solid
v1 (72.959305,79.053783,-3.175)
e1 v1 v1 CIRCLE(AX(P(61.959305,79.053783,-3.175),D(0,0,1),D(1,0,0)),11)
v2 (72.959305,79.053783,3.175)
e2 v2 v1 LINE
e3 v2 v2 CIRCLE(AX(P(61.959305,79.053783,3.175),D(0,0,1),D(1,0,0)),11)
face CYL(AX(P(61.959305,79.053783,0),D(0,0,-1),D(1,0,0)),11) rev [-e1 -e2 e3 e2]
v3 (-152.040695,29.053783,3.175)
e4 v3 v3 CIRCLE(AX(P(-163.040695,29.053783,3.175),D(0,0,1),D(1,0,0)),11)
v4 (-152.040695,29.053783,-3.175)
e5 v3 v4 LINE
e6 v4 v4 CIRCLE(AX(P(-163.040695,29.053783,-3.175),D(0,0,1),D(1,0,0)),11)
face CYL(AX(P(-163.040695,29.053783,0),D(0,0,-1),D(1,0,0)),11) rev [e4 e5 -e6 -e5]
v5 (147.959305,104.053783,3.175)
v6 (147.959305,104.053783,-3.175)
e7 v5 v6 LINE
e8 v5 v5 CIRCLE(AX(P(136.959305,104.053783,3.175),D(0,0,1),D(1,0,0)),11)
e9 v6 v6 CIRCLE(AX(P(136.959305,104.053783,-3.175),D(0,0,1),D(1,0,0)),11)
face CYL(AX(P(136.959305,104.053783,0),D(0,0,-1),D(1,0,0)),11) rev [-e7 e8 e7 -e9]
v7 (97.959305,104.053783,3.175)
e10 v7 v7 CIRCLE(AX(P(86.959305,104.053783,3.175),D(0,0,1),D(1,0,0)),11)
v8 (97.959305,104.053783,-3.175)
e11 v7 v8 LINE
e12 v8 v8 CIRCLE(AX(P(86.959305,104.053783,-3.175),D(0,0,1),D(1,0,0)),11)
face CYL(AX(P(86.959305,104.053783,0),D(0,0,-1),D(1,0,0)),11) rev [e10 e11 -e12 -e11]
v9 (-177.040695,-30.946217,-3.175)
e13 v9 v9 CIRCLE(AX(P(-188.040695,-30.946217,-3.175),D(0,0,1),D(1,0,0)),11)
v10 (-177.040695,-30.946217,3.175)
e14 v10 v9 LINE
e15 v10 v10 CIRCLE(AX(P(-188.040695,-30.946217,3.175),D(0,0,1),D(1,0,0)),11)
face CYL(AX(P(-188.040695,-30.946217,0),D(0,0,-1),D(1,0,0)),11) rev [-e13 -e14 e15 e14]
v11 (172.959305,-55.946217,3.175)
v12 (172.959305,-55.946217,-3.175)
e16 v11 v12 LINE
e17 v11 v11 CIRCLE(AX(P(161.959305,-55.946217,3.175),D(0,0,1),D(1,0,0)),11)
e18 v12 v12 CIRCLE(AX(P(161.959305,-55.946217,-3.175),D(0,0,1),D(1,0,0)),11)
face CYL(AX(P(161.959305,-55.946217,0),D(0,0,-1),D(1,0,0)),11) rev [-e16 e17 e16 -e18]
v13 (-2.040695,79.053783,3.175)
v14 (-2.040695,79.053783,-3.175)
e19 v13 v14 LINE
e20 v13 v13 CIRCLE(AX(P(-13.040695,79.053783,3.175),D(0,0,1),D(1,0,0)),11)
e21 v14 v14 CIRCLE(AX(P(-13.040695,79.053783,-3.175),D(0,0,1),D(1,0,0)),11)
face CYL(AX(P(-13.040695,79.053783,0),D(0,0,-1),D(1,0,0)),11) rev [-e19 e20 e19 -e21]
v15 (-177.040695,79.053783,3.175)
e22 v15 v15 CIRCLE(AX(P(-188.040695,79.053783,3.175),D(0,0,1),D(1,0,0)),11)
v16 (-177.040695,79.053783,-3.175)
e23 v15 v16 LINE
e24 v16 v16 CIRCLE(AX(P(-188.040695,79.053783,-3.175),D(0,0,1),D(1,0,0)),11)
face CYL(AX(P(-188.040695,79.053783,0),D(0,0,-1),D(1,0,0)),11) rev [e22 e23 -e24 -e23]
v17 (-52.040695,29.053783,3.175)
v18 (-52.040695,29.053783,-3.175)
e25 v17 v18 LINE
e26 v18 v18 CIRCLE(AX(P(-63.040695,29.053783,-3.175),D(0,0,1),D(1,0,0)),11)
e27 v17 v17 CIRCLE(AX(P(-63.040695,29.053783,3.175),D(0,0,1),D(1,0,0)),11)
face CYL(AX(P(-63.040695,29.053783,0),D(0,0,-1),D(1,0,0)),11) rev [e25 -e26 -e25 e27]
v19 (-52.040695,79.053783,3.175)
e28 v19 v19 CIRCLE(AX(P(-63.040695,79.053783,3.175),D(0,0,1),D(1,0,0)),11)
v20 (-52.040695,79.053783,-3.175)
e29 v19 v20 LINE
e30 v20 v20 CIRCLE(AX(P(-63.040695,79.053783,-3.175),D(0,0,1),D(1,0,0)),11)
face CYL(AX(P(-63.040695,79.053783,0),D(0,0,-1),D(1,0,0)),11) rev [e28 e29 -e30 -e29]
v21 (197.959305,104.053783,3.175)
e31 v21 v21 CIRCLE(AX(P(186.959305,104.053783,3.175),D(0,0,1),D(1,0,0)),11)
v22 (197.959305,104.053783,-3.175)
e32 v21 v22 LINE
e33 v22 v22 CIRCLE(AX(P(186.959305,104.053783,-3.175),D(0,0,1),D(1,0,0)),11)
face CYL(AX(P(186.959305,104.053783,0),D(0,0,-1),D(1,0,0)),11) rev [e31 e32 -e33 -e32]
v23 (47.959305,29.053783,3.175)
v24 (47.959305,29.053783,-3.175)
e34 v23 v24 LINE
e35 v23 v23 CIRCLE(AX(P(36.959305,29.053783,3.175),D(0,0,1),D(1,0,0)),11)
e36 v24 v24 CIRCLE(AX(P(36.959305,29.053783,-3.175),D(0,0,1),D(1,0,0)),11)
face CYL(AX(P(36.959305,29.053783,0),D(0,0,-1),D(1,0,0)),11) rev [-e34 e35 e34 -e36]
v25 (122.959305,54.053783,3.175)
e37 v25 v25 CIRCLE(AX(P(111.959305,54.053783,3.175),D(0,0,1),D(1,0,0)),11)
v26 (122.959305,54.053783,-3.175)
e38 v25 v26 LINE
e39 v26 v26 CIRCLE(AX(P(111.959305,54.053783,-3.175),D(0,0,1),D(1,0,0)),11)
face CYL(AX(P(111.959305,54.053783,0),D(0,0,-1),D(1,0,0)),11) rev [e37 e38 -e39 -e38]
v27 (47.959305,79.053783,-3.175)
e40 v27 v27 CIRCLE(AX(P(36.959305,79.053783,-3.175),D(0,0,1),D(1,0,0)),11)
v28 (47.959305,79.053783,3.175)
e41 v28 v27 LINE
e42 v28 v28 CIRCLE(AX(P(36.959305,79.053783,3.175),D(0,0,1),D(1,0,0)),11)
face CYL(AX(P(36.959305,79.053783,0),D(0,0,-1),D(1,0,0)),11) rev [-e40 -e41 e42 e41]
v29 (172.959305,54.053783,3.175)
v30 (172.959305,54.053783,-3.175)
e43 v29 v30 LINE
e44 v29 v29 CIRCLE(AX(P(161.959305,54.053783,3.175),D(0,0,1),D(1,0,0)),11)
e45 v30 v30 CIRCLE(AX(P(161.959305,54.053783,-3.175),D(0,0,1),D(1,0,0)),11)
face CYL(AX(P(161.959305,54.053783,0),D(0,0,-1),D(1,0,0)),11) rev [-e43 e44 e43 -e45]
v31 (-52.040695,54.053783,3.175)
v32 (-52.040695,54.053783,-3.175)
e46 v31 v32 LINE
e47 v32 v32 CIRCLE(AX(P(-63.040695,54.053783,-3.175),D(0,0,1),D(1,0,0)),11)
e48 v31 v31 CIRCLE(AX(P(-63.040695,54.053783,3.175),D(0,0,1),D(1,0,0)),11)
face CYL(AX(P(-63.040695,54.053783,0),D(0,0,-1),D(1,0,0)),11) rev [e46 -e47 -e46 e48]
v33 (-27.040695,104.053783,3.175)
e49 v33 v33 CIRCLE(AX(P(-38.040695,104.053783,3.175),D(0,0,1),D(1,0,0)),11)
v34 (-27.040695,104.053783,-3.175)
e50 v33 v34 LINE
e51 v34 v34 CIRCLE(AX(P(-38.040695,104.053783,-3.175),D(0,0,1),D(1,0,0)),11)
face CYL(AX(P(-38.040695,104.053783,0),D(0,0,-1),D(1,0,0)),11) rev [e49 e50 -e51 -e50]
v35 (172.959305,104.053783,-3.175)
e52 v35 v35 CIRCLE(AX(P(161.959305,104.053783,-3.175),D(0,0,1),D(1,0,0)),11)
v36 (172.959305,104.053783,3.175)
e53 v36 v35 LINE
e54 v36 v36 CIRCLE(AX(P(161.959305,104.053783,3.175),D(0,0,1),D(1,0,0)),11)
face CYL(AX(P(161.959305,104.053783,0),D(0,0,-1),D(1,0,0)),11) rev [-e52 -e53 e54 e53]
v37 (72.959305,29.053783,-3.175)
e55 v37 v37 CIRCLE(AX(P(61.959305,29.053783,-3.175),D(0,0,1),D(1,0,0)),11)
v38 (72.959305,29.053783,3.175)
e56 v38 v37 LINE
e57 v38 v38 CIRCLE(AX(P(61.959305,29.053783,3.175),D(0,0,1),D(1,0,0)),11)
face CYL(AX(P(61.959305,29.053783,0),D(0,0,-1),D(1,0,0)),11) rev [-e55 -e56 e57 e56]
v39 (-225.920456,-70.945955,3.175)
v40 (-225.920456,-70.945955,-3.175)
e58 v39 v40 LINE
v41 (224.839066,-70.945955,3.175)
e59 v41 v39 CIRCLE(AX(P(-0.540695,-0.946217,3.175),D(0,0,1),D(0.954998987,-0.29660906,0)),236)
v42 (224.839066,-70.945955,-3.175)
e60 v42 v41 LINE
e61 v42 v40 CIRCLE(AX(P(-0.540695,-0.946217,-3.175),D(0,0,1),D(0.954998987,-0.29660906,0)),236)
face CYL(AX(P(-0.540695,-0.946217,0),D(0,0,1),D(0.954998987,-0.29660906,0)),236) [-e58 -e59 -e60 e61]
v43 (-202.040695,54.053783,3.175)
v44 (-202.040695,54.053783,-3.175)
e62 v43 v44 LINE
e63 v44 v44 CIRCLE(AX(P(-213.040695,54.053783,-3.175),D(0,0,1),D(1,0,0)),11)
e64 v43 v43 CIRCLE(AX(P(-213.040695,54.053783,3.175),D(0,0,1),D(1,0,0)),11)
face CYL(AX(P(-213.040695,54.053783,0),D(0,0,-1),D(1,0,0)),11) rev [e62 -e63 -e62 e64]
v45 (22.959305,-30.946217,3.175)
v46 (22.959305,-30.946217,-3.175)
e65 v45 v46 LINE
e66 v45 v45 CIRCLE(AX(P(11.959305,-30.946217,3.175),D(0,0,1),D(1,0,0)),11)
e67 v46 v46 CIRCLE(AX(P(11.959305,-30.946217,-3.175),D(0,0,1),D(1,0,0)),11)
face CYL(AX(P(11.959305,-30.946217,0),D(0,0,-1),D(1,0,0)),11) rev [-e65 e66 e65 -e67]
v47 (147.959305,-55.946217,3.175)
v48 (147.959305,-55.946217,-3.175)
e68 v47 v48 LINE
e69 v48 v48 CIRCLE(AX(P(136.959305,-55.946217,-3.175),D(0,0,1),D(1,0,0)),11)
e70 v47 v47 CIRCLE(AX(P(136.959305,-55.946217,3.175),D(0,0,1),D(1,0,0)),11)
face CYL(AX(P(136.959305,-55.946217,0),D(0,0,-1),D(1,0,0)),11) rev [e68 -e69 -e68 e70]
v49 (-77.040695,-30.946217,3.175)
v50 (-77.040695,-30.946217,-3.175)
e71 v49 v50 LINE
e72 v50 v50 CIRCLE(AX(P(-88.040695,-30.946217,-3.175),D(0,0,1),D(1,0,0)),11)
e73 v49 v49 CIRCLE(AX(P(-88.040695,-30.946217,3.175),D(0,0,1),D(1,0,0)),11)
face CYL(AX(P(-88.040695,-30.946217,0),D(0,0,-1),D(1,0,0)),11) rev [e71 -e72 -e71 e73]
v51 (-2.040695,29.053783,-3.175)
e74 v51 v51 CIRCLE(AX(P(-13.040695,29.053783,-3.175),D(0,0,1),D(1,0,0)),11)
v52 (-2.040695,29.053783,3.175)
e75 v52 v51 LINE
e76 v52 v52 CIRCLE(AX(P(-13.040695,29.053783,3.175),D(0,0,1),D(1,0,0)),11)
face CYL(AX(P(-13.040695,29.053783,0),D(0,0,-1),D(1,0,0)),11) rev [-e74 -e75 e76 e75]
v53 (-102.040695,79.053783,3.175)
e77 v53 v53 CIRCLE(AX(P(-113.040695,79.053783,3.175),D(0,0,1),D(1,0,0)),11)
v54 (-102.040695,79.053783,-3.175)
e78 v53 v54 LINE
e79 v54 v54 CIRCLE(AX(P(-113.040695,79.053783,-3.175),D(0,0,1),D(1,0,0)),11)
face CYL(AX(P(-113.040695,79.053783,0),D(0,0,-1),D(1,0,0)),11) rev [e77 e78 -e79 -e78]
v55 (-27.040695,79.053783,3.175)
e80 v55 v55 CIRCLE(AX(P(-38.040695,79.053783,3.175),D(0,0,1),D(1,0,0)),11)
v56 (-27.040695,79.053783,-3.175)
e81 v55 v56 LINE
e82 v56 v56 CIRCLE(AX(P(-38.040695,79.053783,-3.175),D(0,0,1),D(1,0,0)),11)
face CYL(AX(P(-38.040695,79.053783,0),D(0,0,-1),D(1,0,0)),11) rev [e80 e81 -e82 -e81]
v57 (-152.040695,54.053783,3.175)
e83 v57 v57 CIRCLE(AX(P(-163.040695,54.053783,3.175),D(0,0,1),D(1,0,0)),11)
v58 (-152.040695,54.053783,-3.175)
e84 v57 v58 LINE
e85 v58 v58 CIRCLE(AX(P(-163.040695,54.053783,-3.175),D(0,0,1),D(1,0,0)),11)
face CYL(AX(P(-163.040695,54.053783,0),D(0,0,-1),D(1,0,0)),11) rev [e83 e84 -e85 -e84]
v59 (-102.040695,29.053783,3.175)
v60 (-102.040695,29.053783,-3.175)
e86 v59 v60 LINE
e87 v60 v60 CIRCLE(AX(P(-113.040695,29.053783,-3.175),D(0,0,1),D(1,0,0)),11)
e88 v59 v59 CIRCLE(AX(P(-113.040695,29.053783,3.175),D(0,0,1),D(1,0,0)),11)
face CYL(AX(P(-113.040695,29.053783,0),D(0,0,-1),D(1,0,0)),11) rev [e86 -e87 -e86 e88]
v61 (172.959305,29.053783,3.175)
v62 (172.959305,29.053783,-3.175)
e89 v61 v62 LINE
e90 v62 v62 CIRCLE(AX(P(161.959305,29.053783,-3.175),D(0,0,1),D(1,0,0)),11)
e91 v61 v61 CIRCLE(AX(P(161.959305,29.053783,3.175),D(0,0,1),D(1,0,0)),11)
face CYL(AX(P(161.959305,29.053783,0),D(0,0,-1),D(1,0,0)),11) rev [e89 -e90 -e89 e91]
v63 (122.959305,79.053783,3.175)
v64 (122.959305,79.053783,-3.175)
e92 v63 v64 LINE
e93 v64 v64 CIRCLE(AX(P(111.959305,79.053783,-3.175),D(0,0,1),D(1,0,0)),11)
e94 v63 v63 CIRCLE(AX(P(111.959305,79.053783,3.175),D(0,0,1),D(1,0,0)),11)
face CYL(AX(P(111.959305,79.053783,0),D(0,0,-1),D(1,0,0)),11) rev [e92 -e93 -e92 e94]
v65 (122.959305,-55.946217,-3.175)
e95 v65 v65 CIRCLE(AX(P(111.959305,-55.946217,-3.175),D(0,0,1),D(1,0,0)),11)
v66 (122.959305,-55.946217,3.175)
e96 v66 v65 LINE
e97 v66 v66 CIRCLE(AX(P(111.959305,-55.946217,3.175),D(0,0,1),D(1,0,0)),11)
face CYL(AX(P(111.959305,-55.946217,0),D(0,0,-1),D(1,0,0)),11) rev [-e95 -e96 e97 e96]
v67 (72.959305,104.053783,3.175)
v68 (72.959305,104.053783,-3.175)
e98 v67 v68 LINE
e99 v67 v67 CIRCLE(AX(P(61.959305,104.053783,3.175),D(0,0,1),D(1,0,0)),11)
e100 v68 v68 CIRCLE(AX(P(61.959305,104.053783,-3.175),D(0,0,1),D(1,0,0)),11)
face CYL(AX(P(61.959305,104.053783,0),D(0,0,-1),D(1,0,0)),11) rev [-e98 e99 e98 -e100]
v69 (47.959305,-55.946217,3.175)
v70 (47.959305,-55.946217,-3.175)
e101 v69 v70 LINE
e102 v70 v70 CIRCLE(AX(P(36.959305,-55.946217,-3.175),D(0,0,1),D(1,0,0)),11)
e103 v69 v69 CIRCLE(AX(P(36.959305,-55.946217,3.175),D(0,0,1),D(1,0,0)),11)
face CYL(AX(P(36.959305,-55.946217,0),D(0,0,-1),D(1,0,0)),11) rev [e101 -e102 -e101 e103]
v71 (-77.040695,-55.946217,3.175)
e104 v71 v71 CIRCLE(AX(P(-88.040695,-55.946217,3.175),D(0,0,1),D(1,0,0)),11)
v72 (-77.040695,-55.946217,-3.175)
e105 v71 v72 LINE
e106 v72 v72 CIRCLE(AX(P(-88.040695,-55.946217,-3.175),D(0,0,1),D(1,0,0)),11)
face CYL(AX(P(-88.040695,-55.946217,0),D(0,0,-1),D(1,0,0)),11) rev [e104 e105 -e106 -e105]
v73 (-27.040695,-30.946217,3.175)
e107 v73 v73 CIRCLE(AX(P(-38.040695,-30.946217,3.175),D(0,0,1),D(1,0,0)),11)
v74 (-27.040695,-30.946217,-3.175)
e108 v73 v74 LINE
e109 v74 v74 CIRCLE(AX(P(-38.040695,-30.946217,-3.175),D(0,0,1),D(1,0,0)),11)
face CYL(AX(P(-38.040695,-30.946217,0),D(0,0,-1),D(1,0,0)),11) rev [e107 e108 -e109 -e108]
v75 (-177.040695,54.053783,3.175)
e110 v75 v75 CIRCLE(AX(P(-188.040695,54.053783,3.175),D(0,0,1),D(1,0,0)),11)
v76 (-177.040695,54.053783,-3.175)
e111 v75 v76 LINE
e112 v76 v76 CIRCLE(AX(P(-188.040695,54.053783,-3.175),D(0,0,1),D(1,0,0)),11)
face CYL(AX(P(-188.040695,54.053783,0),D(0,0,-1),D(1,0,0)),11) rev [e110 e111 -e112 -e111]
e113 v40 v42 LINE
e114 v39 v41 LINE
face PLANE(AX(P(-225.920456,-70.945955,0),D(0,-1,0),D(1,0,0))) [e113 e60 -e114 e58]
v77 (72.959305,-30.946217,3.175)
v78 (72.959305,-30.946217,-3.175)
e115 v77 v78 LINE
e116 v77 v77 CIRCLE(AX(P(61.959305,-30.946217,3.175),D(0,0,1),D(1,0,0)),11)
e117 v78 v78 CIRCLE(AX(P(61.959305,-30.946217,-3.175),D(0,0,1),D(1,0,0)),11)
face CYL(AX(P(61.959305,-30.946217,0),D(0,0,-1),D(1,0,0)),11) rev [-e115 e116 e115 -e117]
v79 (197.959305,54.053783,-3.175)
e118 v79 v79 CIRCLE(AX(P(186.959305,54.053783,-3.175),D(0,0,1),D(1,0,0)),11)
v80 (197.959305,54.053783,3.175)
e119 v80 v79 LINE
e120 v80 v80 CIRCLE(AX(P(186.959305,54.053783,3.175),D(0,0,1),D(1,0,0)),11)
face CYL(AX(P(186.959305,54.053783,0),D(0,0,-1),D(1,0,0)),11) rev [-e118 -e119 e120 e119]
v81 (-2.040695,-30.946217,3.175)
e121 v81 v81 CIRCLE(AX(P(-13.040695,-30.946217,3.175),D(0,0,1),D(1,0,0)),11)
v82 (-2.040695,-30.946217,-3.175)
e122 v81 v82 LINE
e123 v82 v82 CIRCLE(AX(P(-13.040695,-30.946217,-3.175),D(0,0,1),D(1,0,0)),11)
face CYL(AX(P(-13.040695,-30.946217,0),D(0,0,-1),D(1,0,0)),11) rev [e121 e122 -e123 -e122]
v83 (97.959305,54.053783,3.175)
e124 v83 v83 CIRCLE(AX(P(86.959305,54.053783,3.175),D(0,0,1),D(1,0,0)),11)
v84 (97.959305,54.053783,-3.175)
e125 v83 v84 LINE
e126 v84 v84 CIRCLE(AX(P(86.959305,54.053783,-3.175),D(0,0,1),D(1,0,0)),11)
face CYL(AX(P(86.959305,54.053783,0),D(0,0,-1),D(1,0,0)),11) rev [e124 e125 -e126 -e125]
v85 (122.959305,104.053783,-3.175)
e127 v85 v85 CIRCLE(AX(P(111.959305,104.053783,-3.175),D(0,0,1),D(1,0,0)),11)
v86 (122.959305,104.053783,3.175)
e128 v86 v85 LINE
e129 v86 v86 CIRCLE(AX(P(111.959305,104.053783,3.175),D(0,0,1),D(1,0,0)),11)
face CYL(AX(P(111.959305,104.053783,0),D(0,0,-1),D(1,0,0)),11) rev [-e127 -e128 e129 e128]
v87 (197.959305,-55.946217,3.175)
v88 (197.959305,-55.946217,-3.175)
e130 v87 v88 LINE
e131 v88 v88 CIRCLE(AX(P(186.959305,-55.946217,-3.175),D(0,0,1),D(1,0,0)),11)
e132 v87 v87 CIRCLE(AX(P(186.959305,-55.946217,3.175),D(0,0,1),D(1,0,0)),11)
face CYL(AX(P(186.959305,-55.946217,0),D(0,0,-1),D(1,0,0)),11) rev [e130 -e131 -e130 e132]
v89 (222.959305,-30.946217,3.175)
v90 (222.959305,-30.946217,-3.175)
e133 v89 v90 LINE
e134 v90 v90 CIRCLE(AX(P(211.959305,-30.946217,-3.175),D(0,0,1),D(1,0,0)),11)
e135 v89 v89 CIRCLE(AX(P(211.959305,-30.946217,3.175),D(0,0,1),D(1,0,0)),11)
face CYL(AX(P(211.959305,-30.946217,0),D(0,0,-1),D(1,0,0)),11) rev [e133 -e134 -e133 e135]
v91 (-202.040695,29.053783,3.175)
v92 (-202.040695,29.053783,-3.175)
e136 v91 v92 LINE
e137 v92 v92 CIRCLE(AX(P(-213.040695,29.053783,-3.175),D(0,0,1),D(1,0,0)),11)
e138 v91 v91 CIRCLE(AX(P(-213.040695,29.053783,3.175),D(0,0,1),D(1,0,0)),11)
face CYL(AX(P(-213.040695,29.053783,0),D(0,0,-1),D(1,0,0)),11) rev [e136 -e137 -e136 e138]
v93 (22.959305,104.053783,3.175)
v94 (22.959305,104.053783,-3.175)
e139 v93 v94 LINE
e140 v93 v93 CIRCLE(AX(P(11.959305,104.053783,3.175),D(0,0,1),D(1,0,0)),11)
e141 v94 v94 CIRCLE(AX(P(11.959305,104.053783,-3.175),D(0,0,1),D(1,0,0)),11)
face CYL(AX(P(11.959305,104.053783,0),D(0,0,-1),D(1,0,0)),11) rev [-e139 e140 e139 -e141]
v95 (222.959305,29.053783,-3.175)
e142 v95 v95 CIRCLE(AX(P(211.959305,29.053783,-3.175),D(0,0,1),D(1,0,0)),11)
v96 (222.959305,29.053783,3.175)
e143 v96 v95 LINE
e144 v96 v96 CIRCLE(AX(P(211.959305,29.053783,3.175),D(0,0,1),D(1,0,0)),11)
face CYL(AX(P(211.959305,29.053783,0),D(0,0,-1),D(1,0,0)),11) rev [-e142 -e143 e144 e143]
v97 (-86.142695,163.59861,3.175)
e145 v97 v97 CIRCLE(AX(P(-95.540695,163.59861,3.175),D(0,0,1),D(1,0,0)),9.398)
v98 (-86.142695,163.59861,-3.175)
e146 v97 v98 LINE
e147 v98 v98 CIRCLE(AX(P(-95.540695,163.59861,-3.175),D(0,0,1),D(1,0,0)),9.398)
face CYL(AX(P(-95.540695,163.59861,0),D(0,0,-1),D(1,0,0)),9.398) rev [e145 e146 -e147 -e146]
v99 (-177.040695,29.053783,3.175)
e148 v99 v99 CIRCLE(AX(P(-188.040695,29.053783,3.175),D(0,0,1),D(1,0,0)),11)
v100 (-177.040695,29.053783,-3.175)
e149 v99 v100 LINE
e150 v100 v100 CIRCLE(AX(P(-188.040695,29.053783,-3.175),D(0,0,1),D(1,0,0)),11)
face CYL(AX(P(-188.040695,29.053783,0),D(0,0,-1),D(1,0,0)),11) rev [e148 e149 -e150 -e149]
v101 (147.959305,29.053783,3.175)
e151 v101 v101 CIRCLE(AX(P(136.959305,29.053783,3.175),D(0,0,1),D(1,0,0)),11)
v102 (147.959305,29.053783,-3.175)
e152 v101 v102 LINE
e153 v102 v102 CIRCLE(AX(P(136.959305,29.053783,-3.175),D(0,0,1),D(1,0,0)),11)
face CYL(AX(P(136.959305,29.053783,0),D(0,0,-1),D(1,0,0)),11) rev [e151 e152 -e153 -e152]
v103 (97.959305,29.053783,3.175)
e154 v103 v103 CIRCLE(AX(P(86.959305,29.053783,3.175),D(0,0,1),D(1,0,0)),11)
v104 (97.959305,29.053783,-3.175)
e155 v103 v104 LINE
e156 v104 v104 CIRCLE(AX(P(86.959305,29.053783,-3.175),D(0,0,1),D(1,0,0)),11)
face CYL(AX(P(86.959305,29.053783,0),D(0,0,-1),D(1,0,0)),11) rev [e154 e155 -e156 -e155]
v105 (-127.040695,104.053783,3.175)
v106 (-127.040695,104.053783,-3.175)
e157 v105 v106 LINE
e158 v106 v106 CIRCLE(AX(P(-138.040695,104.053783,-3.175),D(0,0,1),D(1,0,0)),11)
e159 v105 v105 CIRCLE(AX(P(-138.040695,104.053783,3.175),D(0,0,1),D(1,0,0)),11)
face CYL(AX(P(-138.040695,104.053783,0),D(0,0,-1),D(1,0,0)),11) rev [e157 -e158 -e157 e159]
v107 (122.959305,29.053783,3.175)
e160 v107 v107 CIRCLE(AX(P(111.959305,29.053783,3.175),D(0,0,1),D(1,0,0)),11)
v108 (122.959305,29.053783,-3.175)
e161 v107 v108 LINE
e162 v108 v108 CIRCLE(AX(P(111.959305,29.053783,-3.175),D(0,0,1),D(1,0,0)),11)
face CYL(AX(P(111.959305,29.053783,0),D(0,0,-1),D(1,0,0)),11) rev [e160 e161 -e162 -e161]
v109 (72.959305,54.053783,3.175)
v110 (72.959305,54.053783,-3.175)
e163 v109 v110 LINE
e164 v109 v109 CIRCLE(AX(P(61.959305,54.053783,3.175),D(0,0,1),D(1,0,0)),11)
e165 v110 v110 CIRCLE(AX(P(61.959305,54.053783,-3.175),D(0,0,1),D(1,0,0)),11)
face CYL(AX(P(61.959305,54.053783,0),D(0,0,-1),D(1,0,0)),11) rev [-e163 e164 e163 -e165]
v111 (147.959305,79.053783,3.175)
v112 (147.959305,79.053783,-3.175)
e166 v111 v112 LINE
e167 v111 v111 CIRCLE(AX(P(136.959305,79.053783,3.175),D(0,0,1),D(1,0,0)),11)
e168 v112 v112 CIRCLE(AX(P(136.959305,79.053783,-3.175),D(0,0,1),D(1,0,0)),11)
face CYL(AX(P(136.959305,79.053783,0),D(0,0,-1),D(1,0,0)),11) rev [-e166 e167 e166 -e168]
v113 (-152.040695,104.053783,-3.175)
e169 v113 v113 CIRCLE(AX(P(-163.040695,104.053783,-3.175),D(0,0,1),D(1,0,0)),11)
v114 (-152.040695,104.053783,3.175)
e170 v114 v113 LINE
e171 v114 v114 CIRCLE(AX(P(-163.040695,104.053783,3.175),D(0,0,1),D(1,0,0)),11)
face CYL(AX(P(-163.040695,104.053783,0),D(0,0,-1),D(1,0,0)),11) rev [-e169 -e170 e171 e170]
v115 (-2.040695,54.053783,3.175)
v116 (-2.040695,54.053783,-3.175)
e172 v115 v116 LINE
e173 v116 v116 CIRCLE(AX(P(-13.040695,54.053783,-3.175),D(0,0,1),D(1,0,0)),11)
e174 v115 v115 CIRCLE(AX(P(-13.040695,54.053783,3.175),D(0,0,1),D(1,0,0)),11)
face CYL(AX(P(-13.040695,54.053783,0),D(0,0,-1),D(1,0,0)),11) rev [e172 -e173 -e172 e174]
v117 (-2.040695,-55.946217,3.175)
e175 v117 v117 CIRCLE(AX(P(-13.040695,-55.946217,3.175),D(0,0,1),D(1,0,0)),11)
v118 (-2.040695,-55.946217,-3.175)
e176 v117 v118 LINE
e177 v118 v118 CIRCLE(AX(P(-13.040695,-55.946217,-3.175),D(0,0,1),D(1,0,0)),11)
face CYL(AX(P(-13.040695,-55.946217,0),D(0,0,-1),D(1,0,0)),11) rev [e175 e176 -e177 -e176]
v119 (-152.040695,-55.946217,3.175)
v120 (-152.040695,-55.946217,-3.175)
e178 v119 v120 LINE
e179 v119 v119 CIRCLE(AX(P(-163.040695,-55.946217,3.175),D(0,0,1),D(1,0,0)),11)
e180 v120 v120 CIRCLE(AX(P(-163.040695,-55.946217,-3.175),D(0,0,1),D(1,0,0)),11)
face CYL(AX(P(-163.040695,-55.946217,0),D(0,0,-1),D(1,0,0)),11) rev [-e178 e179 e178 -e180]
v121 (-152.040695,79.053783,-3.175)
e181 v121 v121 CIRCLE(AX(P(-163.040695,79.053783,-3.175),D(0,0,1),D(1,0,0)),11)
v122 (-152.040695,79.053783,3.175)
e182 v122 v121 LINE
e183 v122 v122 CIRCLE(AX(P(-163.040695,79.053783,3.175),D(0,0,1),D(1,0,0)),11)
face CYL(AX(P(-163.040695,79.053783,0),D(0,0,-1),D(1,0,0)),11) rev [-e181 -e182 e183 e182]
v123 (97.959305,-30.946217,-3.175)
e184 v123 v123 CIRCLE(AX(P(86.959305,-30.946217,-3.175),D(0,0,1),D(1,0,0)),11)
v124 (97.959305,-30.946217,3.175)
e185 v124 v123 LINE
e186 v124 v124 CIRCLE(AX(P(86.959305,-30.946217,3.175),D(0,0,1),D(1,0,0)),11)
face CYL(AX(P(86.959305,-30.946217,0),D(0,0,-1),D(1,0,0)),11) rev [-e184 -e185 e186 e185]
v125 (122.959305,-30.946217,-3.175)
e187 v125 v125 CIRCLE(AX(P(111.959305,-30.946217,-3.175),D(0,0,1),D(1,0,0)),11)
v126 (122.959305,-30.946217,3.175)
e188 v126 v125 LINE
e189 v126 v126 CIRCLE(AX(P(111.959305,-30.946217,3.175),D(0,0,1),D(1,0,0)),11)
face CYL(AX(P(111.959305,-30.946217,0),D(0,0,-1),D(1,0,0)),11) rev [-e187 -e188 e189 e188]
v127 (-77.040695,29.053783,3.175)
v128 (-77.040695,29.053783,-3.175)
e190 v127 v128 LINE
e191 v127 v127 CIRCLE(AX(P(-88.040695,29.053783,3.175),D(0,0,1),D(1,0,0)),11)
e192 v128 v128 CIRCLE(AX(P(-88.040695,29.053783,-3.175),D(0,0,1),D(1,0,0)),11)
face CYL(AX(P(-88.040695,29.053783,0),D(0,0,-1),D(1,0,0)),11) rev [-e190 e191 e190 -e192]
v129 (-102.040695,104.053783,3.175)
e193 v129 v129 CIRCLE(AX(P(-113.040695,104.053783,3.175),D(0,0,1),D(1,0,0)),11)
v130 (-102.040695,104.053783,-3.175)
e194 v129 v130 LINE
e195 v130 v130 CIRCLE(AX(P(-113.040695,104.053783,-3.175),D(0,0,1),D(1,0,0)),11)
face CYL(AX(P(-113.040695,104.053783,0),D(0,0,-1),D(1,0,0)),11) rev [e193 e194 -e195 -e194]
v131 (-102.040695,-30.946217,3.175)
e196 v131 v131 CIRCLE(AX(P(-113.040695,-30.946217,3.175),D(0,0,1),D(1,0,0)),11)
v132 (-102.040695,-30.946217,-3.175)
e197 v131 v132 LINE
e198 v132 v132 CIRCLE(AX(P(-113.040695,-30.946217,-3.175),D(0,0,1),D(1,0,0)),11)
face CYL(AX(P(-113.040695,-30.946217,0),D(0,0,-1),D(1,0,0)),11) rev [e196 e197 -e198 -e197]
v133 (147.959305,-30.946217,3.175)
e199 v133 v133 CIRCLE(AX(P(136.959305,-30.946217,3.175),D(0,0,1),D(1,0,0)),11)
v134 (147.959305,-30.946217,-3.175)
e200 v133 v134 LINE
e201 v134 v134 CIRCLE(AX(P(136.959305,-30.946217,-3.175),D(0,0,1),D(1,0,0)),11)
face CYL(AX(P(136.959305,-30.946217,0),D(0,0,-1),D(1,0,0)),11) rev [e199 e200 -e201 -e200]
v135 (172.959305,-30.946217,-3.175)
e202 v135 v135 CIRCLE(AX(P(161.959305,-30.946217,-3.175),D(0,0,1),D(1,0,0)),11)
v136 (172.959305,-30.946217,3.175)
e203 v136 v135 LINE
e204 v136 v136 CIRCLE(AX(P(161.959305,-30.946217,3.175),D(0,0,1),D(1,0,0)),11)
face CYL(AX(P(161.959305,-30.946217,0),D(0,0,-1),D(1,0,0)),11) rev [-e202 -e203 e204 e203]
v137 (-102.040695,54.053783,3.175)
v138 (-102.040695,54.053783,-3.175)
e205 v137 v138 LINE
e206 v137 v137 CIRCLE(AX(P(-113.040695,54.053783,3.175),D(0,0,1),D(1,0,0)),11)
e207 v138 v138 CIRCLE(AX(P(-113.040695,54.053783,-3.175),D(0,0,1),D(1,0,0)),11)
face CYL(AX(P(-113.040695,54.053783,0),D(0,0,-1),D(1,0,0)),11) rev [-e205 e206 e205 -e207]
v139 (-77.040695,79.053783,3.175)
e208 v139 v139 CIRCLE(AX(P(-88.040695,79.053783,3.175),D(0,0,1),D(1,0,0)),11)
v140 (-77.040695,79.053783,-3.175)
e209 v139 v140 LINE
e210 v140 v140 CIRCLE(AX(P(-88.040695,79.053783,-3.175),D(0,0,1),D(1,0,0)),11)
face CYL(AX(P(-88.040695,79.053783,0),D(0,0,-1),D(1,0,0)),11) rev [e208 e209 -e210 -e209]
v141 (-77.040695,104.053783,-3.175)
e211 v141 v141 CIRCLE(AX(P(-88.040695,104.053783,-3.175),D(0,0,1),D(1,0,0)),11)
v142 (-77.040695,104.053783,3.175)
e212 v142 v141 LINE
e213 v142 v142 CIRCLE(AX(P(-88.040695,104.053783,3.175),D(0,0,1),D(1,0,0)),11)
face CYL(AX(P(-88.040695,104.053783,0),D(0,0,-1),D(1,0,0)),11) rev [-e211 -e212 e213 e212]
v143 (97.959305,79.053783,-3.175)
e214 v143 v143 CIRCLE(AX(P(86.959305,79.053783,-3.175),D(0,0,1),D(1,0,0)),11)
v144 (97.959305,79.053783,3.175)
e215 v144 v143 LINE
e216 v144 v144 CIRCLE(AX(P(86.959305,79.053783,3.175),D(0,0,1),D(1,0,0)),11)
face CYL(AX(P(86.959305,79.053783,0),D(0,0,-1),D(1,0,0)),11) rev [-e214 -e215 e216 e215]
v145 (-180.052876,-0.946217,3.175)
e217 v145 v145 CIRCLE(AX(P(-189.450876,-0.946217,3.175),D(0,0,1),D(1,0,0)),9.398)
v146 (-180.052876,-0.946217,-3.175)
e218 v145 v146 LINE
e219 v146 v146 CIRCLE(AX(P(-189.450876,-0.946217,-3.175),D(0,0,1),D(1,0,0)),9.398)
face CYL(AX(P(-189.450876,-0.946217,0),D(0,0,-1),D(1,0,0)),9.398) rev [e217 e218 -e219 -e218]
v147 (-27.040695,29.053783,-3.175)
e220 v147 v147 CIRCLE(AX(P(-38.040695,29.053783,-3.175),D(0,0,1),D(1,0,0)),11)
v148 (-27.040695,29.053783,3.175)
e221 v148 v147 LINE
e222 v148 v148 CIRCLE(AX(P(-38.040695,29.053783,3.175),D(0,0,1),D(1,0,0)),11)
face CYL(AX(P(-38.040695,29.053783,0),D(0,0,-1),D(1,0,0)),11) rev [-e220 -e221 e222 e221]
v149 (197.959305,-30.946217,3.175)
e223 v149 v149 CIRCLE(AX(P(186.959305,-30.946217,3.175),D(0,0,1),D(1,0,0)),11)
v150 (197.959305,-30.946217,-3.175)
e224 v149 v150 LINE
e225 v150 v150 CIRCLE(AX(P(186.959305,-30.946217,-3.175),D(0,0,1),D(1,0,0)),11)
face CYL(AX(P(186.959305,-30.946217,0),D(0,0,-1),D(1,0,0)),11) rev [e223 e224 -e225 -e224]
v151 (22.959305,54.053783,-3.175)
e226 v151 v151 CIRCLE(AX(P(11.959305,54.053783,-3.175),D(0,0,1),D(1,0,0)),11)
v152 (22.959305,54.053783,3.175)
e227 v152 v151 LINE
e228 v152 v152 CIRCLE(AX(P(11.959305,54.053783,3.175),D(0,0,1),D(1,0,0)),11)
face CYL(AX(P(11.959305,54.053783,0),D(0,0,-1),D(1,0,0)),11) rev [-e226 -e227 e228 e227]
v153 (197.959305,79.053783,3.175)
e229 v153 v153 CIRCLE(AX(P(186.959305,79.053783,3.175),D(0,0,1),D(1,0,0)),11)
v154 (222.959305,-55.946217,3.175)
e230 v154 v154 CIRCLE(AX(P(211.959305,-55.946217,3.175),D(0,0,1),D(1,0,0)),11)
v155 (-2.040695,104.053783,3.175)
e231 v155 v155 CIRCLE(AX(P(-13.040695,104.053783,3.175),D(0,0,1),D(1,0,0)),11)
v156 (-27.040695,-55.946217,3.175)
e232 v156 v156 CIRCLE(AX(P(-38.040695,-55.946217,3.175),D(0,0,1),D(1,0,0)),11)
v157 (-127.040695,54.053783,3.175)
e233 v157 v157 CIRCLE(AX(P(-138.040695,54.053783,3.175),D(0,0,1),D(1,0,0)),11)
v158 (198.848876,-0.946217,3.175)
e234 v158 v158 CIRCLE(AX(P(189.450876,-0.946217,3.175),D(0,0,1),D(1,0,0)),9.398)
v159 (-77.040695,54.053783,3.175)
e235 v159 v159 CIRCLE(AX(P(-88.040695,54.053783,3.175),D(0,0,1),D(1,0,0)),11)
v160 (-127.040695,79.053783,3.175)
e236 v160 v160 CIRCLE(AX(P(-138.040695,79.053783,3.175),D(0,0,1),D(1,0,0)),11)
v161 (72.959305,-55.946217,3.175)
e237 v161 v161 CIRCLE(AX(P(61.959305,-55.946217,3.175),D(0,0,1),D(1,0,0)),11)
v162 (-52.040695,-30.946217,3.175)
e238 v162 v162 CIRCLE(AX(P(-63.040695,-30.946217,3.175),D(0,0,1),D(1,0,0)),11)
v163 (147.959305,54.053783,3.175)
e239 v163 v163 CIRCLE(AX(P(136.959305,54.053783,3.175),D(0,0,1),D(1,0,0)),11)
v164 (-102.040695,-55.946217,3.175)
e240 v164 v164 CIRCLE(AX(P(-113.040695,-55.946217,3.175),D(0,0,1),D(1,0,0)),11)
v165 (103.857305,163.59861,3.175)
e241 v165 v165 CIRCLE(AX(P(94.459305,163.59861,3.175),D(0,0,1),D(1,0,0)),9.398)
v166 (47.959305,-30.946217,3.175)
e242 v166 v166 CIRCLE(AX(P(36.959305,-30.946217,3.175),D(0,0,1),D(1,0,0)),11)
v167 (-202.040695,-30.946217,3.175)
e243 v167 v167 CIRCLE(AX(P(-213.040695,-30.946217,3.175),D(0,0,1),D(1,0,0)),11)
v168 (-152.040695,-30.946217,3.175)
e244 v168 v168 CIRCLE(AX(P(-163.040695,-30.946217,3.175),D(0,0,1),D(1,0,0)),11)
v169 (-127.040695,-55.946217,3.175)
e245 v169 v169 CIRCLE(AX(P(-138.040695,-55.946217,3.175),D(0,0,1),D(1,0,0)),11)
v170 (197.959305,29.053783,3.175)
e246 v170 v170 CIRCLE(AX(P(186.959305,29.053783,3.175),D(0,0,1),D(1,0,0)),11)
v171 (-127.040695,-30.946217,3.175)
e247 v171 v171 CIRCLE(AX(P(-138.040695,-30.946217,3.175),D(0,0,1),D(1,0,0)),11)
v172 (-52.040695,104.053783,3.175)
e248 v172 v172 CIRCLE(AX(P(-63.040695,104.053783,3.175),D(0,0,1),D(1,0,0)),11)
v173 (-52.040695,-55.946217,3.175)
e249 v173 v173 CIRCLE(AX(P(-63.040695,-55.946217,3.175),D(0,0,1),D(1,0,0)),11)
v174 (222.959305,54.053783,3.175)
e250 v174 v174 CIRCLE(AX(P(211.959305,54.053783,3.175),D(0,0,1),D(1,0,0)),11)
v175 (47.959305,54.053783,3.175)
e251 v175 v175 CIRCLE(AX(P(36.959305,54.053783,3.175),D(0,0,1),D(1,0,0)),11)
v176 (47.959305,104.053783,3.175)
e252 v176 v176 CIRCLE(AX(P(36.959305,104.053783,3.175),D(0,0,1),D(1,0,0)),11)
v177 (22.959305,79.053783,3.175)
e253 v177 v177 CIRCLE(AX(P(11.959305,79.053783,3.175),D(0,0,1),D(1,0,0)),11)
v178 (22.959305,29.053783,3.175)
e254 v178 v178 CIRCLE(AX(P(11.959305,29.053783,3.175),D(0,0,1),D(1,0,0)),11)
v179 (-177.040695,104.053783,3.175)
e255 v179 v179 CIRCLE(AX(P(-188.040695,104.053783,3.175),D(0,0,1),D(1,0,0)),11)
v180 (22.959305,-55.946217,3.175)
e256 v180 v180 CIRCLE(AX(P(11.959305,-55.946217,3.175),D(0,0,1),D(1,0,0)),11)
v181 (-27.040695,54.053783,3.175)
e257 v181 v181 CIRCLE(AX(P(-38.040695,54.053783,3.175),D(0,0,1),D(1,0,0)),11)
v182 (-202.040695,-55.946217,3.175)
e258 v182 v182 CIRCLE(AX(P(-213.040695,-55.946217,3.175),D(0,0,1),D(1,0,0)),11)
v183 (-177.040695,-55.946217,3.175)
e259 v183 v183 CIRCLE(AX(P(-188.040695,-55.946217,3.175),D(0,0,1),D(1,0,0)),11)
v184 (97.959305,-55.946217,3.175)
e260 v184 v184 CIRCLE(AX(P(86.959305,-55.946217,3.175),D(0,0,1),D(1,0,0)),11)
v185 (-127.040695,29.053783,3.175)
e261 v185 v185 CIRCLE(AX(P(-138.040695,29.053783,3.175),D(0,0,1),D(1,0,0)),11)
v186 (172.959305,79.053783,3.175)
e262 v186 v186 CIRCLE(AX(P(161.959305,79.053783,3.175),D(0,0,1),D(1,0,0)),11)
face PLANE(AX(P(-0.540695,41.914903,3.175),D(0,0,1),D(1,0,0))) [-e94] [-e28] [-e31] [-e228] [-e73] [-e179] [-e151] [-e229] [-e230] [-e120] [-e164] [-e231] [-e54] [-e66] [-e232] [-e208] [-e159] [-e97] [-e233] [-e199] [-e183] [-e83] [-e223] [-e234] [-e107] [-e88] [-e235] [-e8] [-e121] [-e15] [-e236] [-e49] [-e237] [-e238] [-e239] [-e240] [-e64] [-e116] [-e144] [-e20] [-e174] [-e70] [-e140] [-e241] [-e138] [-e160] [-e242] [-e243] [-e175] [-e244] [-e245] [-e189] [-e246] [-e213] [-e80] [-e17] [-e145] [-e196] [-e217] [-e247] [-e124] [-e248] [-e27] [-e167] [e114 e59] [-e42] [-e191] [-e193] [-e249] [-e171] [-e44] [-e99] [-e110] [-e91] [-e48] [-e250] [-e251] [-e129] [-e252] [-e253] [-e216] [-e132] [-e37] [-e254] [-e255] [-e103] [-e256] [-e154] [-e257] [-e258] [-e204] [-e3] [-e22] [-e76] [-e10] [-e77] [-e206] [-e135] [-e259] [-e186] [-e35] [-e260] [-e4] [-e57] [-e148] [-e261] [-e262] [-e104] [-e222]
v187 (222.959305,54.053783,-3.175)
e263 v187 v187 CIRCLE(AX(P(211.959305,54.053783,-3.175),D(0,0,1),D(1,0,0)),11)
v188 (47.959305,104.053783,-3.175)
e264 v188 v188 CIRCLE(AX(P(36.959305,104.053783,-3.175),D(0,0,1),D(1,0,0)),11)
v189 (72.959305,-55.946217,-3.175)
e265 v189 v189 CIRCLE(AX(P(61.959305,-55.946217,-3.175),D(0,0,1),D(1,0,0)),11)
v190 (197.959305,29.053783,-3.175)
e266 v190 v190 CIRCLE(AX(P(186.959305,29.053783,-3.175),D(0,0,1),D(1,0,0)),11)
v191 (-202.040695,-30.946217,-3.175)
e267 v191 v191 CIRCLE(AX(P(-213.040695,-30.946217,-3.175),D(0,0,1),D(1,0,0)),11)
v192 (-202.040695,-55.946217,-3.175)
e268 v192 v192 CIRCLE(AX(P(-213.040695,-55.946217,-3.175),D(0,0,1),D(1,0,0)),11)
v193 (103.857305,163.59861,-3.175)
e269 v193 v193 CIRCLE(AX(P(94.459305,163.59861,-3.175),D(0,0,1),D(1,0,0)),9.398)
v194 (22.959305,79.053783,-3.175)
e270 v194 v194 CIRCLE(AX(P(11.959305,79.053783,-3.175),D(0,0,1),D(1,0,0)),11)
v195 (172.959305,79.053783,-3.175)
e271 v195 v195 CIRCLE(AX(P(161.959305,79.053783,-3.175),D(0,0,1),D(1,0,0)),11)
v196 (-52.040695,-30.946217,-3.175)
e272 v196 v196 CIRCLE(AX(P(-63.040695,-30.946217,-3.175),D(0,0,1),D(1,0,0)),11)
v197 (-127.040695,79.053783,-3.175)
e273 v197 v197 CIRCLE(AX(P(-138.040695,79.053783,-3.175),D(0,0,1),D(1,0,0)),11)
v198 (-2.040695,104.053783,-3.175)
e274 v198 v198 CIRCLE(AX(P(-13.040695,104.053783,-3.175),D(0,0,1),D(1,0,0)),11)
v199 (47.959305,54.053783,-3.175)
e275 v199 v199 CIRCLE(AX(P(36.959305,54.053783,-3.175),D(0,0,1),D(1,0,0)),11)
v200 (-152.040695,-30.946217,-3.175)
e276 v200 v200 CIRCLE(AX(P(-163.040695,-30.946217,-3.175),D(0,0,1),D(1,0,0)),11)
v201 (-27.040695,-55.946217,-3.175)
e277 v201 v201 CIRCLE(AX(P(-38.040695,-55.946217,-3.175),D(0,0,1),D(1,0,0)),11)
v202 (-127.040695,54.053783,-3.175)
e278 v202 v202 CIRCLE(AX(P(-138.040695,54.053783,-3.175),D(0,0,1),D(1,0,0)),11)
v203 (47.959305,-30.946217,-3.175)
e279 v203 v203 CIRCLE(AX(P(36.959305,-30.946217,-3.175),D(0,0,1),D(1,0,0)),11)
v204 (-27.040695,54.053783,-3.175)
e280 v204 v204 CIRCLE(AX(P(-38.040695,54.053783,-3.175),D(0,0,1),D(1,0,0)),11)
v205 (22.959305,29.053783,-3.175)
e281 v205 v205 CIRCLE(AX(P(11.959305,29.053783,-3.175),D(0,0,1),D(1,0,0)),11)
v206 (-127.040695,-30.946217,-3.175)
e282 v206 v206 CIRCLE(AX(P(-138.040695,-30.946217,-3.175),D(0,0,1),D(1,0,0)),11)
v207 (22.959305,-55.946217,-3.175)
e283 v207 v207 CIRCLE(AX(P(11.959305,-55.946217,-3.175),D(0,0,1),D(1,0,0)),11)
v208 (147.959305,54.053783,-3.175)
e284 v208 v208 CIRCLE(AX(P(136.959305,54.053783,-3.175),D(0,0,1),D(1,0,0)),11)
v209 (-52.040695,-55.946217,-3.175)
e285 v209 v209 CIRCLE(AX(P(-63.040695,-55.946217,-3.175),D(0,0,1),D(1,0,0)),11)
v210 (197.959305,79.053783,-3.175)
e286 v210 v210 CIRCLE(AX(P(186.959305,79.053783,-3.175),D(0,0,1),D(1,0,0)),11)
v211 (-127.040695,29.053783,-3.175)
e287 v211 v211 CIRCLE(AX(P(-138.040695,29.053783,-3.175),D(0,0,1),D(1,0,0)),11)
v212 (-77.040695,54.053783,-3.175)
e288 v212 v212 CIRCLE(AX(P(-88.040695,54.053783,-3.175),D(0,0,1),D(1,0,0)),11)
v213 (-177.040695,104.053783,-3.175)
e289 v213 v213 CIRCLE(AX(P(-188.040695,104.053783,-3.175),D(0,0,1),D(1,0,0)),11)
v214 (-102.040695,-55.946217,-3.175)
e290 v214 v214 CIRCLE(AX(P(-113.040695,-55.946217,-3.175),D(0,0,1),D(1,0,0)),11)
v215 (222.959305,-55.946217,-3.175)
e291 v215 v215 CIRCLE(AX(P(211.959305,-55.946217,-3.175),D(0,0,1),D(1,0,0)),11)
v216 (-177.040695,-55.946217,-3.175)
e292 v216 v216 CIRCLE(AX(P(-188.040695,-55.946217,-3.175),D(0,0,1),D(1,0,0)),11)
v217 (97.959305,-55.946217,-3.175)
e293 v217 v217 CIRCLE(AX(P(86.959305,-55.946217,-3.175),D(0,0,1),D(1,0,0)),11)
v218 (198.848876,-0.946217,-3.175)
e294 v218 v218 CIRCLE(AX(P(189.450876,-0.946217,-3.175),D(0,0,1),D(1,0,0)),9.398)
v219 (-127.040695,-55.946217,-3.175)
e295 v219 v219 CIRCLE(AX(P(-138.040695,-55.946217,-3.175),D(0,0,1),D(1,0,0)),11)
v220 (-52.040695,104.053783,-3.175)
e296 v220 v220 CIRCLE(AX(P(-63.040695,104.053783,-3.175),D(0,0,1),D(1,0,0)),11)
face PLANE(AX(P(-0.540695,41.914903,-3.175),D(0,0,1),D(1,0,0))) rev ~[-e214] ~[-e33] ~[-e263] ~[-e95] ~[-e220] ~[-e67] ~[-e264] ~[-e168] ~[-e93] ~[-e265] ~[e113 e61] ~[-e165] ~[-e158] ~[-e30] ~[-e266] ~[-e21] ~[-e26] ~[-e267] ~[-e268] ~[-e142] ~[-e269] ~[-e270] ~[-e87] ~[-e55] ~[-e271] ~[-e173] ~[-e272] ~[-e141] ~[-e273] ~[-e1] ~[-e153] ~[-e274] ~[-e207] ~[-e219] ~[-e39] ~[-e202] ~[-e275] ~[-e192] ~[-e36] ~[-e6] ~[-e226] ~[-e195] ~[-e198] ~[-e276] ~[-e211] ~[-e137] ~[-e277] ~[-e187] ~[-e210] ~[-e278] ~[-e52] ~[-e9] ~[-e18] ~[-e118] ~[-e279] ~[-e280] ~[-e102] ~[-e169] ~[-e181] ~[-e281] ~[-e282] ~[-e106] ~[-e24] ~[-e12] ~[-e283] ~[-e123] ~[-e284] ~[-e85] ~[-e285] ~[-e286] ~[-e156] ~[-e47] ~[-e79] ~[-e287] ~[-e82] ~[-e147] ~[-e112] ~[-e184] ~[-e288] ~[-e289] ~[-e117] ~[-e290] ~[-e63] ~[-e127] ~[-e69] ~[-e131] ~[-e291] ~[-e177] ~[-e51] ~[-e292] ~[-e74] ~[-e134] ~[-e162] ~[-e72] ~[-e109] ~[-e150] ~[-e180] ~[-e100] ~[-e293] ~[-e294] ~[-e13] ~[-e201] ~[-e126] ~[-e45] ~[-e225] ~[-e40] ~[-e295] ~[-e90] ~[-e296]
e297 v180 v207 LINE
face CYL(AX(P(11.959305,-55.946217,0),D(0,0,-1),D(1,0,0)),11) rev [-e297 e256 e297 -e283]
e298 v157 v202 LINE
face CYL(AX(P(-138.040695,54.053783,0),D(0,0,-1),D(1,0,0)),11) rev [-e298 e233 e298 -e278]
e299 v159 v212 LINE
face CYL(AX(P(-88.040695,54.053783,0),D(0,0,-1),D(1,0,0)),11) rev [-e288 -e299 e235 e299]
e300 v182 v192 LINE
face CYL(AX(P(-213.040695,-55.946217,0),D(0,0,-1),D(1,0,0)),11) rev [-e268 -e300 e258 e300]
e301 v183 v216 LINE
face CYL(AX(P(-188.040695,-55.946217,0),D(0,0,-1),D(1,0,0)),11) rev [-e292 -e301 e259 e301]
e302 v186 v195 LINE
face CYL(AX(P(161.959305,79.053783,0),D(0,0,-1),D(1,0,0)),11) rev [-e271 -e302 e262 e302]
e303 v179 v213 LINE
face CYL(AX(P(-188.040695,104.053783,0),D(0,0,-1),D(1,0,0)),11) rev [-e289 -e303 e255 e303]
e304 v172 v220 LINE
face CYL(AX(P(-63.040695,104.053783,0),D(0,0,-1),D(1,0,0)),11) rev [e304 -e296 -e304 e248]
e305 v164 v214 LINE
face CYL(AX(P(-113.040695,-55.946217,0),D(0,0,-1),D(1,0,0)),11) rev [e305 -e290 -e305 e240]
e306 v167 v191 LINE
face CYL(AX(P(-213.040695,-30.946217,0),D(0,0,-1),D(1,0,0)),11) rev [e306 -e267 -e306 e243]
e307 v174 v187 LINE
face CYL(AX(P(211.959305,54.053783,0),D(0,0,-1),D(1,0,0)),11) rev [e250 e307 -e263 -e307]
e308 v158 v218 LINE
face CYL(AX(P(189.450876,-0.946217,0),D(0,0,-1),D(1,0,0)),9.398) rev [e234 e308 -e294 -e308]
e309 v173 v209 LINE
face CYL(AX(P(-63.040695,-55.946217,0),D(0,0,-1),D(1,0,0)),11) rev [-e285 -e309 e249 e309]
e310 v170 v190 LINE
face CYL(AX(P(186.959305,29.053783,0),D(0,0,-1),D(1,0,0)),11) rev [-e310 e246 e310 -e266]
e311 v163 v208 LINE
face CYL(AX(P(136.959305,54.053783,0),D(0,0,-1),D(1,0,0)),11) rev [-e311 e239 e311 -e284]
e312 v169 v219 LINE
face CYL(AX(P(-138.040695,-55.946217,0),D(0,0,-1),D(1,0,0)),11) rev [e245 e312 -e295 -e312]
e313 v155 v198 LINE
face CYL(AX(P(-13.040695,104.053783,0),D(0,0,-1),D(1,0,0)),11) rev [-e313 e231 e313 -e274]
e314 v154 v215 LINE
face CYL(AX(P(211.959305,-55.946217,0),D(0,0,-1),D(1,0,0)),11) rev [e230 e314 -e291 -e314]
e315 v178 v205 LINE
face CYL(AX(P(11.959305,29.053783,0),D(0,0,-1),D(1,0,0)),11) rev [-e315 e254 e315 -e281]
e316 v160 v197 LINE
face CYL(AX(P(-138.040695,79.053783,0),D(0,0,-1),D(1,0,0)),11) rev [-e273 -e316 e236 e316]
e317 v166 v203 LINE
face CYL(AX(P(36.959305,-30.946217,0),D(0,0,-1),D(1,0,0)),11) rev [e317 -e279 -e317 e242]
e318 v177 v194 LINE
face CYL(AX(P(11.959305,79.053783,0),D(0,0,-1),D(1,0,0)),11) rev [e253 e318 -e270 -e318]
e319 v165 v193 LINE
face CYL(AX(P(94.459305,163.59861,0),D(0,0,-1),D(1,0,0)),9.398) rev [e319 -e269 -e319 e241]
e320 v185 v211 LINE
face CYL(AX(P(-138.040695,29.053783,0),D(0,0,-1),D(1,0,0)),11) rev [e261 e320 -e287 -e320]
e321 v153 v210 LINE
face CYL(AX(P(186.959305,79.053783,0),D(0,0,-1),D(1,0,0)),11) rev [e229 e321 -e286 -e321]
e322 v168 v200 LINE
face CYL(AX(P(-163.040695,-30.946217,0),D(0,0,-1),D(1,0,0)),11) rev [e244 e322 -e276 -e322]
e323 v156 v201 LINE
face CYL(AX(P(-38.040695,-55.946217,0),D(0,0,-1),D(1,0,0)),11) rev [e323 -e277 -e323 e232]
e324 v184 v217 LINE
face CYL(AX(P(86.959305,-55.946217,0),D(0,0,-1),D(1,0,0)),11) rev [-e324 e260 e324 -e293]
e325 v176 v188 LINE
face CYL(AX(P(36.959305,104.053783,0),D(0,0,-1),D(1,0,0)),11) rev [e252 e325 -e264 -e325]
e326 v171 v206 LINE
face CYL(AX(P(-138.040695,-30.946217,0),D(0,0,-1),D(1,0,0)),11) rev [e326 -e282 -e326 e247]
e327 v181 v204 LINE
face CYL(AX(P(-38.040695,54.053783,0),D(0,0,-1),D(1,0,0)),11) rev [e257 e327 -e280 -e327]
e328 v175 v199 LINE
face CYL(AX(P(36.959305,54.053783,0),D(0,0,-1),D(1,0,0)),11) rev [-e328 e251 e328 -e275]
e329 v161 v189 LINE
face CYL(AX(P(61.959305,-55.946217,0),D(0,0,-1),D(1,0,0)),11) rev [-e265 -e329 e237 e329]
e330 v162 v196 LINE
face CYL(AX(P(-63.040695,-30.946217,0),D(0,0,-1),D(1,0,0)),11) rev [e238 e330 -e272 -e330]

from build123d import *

# Parameters (mm, degrees)
SKETCH1_R           = 11
SKETCH1_R_2         = 9.398
BOSS_EXTRUDE1_DEPTH = 3.175


with BuildPart() as part:
    # Sketch1 → Boss-Extrude1 (new body, symmetric)
    with BuildSketch(Plane.XY):
        with BuildLine():
            Line((-225.920456131, -70.945954707), (224.83906581, -70.945954707))
            ThreePointArc((224.83906581, -70.945954707), (-0.54069516, 235.053783469), (-225.920456131, -70.945954707))
        make_face()
        with Locations((-213.04069516, -55.946216531)):
            Circle(SKETCH1_R, mode=Mode.SUBTRACT)
        with Locations((-188.04069516, -55.946216531)):
            Circle(SKETCH1_R, mode=Mode.SUBTRACT)
        with Locations((-138.04069516, -55.946216531)):
            Circle(SKETCH1_R, mode=Mode.SUBTRACT)
        with Locations((-113.04069516, -55.946216531)):
            Circle(SKETCH1_R, mode=Mode.SUBTRACT)
        with Locations((-88.04069516, -55.946216531)):
            Circle(SKETCH1_R, mode=Mode.SUBTRACT)
        with Locations((-63.04069516, -55.946216531)):
            Circle(SKETCH1_R, mode=Mode.SUBTRACT)
        with Locations((-38.04069516, -55.946216531)):
            Circle(SKETCH1_R, mode=Mode.SUBTRACT)
        with Locations((-13.04069516, -55.946216531)):
            Circle(SKETCH1_R, mode=Mode.SUBTRACT)
        with Locations((211.95930484, -55.946216531)):
            Circle(SKETCH1_R, mode=Mode.SUBTRACT)
        with Locations((211.95930484, -30.946216531)):
            Circle(SKETCH1_R, mode=Mode.SUBTRACT)
        with Locations((186.95930484, -55.946216531)):
            Circle(SKETCH1_R, mode=Mode.SUBTRACT)
        with Locations((186.95930484, -30.946216531)):
            Circle(SKETCH1_R, mode=Mode.SUBTRACT)
        with Locations((161.95930484, -30.946216531)):
            Circle(SKETCH1_R, mode=Mode.SUBTRACT)
        with Locations((161.95930484, -55.946216531)):
            Circle(SKETCH1_R, mode=Mode.SUBTRACT)
        with Locations((136.95930484, -55.946216531)):
            Circle(SKETCH1_R, mode=Mode.SUBTRACT)
        with Locations((136.95930484, -30.946216531)):
            Circle(SKETCH1_R, mode=Mode.SUBTRACT)
        with Locations((111.95930484, -30.946216531)):
            Circle(SKETCH1_R, mode=Mode.SUBTRACT)
        with Locations((111.95930484, -55.946216531)):
            Circle(SKETCH1_R, mode=Mode.SUBTRACT)
        with Locations((86.95930484, -55.946216531)):
            Circle(SKETCH1_R, mode=Mode.SUBTRACT)
        with Locations((86.95930484, -30.946216531)):
            Circle(SKETCH1_R, mode=Mode.SUBTRACT)
        with Locations((61.95930484, -55.946216531)):
            Circle(SKETCH1_R, mode=Mode.SUBTRACT)
        with Locations((61.95930484, -30.946216531)):
            Circle(SKETCH1_R, mode=Mode.SUBTRACT)
        with Locations((36.95930484, -55.946216531)):
            Circle(SKETCH1_R, mode=Mode.SUBTRACT)
        with Locations((36.95930484, -30.946216531)):
            Circle(SKETCH1_R, mode=Mode.SUBTRACT)
        with Locations((11.95930484, -30.946216531)):
            Circle(SKETCH1_R, mode=Mode.SUBTRACT)
        with Locations((-13.04069516, -30.946216531)):
            Circle(SKETCH1_R, mode=Mode.SUBTRACT)
        with Locations((-38.04069516, -30.946216531)):
            Circle(SKETCH1_R, mode=Mode.SUBTRACT)
        with Locations((-63.04069516, -30.946216531)):
            Circle(SKETCH1_R, mode=Mode.SUBTRACT)
        with Locations((-88.04069516, -30.946216531)):
            Circle(SKETCH1_R, mode=Mode.SUBTRACT)
        with Locations((-113.04069516, -30.946216531)):
            Circle(SKETCH1_R, mode=Mode.SUBTRACT)
        with Locations((-138.04069516, -30.946216531)):
            Circle(SKETCH1_R, mode=Mode.SUBTRACT)
        with Locations((-163.04069516, -30.946216531)):
            Circle(SKETCH1_R, mode=Mode.SUBTRACT)
        with Locations((-188.04069516, -30.946216531)):
            Circle(SKETCH1_R, mode=Mode.SUBTRACT)
        with Locations((-213.04069516, -30.946216531)):
            Circle(SKETCH1_R, mode=Mode.SUBTRACT)
        with Locations((94.45930484, 163.598610188)):
            Circle(SKETCH1_R_2, mode=Mode.SUBTRACT)
        with Locations((-95.54069516, 163.598610188)):
            Circle(SKETCH1_R_2, mode=Mode.SUBTRACT)
        with Locations((-63.04069516, 29.053783469)):
            Circle(SKETCH1_R, mode=Mode.SUBTRACT)
        with Locations((-38.04069516, 29.053783469)):
            Circle(SKETCH1_R, mode=Mode.SUBTRACT)
        with Locations((-38.04069516, 54.053783469)):
            Circle(SKETCH1_R, mode=Mode.SUBTRACT)
        with Locations((-63.04069516, 54.053783469)):
            Circle(SKETCH1_R, mode=Mode.SUBTRACT)
        with Locations((-63.04069516, 79.053783469)):
            Circle(SKETCH1_R, mode=Mode.SUBTRACT)
        with Locations((-38.04069516, 79.053783469)):
            Circle(SKETCH1_R, mode=Mode.SUBTRACT)
        with Locations((-13.04069516, 79.053783469)):
            Circle(SKETCH1_R, mode=Mode.SUBTRACT)
        with Locations((-13.04069516, 54.053783469)):
            Circle(SKETCH1_R, mode=Mode.SUBTRACT)
        with Locations((-13.04069516, 29.053783469)):
            Circle(SKETCH1_R, mode=Mode.SUBTRACT)
        with Locations((11.95930484, 29.053783469)):
            Circle(SKETCH1_R, mode=Mode.SUBTRACT)
        with Locations((11.95930484, 54.053783469)):
            Circle(SKETCH1_R, mode=Mode.SUBTRACT)
        with Locations((11.95930484, 79.053783469)):
            Circle(SKETCH1_R, mode=Mode.SUBTRACT)
        with Locations((36.95930484, 79.053783469)):
            Circle(SKETCH1_R, mode=Mode.SUBTRACT)
        with Locations((36.95930484, 54.053783469)):
            Circle(SKETCH1_R, mode=Mode.SUBTRACT)
        with Locations((36.95930484, 29.053783469)):
            Circle(SKETCH1_R, mode=Mode.SUBTRACT)
        with Locations((61.95930484, 29.053783469)):
            Circle(SKETCH1_R, mode=Mode.SUBTRACT)
        with Locations((61.95930484, 79.053783469)):
            Circle(SKETCH1_R, mode=Mode.SUBTRACT)
        with Locations((61.95930484, 54.053783469)):
            Circle(SKETCH1_R, mode=Mode.SUBTRACT)
        with Locations((86.95930484, 54.053783469)):
            Circle(SKETCH1_R, mode=Mode.SUBTRACT)
        with Locations((86.95930484, 29.053783469)):
            Circle(SKETCH1_R, mode=Mode.SUBTRACT)
        with Locations((86.95930484, 79.053783469)):
            Circle(SKETCH1_R, mode=Mode.SUBTRACT)
        with Locations((111.95930484, 79.053783469)):
            Circle(SKETCH1_R, mode=Mode.SUBTRACT)
        with Locations((111.95930484, 54.053783469)):
            Circle(SKETCH1_R, mode=Mode.SUBTRACT)
        with Locations((111.95930484, 29.053783469)):
            Circle(SKETCH1_R, mode=Mode.SUBTRACT)
        with Locations((136.95930484, 29.053783469)):
            Circle(SKETCH1_R, mode=Mode.SUBTRACT)
        with Locations((136.95930484, 54.053783469)):
            Circle(SKETCH1_R, mode=Mode.SUBTRACT)
        with Locations((136.95930484, 79.053783469)):
            Circle(SKETCH1_R, mode=Mode.SUBTRACT)
        with Locations((161.95930484, 79.053783469)):
            Circle(SKETCH1_R, mode=Mode.SUBTRACT)
        with Locations((161.95930484, 54.053783469)):
            Circle(SKETCH1_R, mode=Mode.SUBTRACT)
        with Locations((161.95930484, 29.053783469)):
            Circle(SKETCH1_R, mode=Mode.SUBTRACT)
        with Locations((186.95930484, 29.053783469)):
            Circle(SKETCH1_R, mode=Mode.SUBTRACT)
        with Locations((211.95930484, 29.053783469)):
            Circle(SKETCH1_R, mode=Mode.SUBTRACT)
        with Locations((211.95930484, 54.053783469)):
            Circle(SKETCH1_R, mode=Mode.SUBTRACT)
        with Locations((186.95930484, 54.053783469)):
            Circle(SKETCH1_R, mode=Mode.SUBTRACT)
        with Locations((186.95930484, 79.053783469)):
            Circle(SKETCH1_R, mode=Mode.SUBTRACT)
        with Locations((186.95930484, 104.053783469)):
            Circle(SKETCH1_R, mode=Mode.SUBTRACT)
        with Locations((161.95930484, 104.053783469)):
            Circle(SKETCH1_R, mode=Mode.SUBTRACT)
        with Locations((136.95930484, 104.053783469)):
            Circle(SKETCH1_R, mode=Mode.SUBTRACT)
        with Locations((111.95930484, 104.053783469)):
            Circle(SKETCH1_R, mode=Mode.SUBTRACT)
        with Locations((86.95930484, 104.053783469)):
            Circle(SKETCH1_R, mode=Mode.SUBTRACT)
        with Locations((61.95930484, 104.053783469)):
            Circle(SKETCH1_R, mode=Mode.SUBTRACT)
        with Locations((36.95930484, 104.053783469)):
            Circle(SKETCH1_R, mode=Mode.SUBTRACT)
        with Locations((11.95930484, 104.053783469)):
            Circle(SKETCH1_R, mode=Mode.SUBTRACT)
        with Locations((-13.04069516, 104.053783469)):
            Circle(SKETCH1_R, mode=Mode.SUBTRACT)
        with Locations((-38.04069516, 104.053783469)):
            Circle(SKETCH1_R, mode=Mode.SUBTRACT)
        with Locations((-63.04069516, 104.053783469)):
            Circle(SKETCH1_R, mode=Mode.SUBTRACT)
        with Locations((-88.04069516, 104.053783469)):
            Circle(SKETCH1_R, mode=Mode.SUBTRACT)
        with Locations((-88.04069516, 79.053783469)):
            Circle(SKETCH1_R, mode=Mode.SUBTRACT)
        with Locations((-88.04069516, 54.053783469)):
            Circle(SKETCH1_R, mode=Mode.SUBTRACT)
        with Locations((-88.04069516, 29.053783469)):
            Circle(SKETCH1_R, mode=Mode.SUBTRACT)
        with Locations((-113.04069516, 29.053783469)):
            Circle(SKETCH1_R, mode=Mode.SUBTRACT)
        with Locations((-113.04069516, 54.053783469)):
            Circle(SKETCH1_R, mode=Mode.SUBTRACT)
        with Locations((-113.04069516, 79.053783469)):
            Circle(SKETCH1_R, mode=Mode.SUBTRACT)
        with Locations((-113.04069516, 104.053783469)):
            Circle(SKETCH1_R, mode=Mode.SUBTRACT)
        with Locations((-138.04069516, 104.053783469)):
            Circle(SKETCH1_R, mode=Mode.SUBTRACT)
        with Locations((-138.04069516, 79.053783469)):
            Circle(SKETCH1_R, mode=Mode.SUBTRACT)
        with Locations((-138.04069516, 54.053783469)):
            Circle(SKETCH1_R, mode=Mode.SUBTRACT)
        with Locations((-138.04069516, 29.053783469)):
            Circle(SKETCH1_R, mode=Mode.SUBTRACT)
        with Locations((-163.04069516, 29.053783469)):
            Circle(SKETCH1_R, mode=Mode.SUBTRACT)
        with Locations((-163.04069516, 54.053783469)):
            Circle(SKETCH1_R, mode=Mode.SUBTRACT)
        with Locations((-163.04069516, 104.053783469)):
            Circle(SKETCH1_R, mode=Mode.SUBTRACT)
        with Locations((-188.04069516, 79.053783469)):
            Circle(SKETCH1_R, mode=Mode.SUBTRACT)
        with Locations((-163.04069516, 79.053783469)):
            Circle(SKETCH1_R, mode=Mode.SUBTRACT)
        with Locations((-188.04069516, 104.053783469)):
            Circle(SKETCH1_R, mode=Mode.SUBTRACT)
        with Locations((-188.04069516, 54.053783469)):
            Circle(SKETCH1_R, mode=Mode.SUBTRACT)
        with Locations((-188.04069516, 29.053783469)):
            Circle(SKETCH1_R, mode=Mode.SUBTRACT)
        with Locations((-213.04069516, 29.053783469)):
            Circle(SKETCH1_R, mode=Mode.SUBTRACT)
        with Locations((-213.04069516, 54.053783469)):
            Circle(SKETCH1_R, mode=Mode.SUBTRACT)
        with Locations((-163.04069516, -55.946216531)):
            Circle(SKETCH1_R, mode=Mode.SUBTRACT)
        with Locations((11.95930484, -55.946216531)):
            Circle(SKETCH1_R, mode=Mode.SUBTRACT)
        with Locations((-189.450875853, -0.946216531)):
            Circle(SKETCH1_R_2, mode=Mode.SUBTRACT)
        with Locations((189.450875853, -0.946216531)):
            Circle(SKETCH1_R_2, mode=Mode.SUBTRACT)
    extrude(amount=BOSS_EXTRUDE1_DEPTH, both=True)


solid = part.part
